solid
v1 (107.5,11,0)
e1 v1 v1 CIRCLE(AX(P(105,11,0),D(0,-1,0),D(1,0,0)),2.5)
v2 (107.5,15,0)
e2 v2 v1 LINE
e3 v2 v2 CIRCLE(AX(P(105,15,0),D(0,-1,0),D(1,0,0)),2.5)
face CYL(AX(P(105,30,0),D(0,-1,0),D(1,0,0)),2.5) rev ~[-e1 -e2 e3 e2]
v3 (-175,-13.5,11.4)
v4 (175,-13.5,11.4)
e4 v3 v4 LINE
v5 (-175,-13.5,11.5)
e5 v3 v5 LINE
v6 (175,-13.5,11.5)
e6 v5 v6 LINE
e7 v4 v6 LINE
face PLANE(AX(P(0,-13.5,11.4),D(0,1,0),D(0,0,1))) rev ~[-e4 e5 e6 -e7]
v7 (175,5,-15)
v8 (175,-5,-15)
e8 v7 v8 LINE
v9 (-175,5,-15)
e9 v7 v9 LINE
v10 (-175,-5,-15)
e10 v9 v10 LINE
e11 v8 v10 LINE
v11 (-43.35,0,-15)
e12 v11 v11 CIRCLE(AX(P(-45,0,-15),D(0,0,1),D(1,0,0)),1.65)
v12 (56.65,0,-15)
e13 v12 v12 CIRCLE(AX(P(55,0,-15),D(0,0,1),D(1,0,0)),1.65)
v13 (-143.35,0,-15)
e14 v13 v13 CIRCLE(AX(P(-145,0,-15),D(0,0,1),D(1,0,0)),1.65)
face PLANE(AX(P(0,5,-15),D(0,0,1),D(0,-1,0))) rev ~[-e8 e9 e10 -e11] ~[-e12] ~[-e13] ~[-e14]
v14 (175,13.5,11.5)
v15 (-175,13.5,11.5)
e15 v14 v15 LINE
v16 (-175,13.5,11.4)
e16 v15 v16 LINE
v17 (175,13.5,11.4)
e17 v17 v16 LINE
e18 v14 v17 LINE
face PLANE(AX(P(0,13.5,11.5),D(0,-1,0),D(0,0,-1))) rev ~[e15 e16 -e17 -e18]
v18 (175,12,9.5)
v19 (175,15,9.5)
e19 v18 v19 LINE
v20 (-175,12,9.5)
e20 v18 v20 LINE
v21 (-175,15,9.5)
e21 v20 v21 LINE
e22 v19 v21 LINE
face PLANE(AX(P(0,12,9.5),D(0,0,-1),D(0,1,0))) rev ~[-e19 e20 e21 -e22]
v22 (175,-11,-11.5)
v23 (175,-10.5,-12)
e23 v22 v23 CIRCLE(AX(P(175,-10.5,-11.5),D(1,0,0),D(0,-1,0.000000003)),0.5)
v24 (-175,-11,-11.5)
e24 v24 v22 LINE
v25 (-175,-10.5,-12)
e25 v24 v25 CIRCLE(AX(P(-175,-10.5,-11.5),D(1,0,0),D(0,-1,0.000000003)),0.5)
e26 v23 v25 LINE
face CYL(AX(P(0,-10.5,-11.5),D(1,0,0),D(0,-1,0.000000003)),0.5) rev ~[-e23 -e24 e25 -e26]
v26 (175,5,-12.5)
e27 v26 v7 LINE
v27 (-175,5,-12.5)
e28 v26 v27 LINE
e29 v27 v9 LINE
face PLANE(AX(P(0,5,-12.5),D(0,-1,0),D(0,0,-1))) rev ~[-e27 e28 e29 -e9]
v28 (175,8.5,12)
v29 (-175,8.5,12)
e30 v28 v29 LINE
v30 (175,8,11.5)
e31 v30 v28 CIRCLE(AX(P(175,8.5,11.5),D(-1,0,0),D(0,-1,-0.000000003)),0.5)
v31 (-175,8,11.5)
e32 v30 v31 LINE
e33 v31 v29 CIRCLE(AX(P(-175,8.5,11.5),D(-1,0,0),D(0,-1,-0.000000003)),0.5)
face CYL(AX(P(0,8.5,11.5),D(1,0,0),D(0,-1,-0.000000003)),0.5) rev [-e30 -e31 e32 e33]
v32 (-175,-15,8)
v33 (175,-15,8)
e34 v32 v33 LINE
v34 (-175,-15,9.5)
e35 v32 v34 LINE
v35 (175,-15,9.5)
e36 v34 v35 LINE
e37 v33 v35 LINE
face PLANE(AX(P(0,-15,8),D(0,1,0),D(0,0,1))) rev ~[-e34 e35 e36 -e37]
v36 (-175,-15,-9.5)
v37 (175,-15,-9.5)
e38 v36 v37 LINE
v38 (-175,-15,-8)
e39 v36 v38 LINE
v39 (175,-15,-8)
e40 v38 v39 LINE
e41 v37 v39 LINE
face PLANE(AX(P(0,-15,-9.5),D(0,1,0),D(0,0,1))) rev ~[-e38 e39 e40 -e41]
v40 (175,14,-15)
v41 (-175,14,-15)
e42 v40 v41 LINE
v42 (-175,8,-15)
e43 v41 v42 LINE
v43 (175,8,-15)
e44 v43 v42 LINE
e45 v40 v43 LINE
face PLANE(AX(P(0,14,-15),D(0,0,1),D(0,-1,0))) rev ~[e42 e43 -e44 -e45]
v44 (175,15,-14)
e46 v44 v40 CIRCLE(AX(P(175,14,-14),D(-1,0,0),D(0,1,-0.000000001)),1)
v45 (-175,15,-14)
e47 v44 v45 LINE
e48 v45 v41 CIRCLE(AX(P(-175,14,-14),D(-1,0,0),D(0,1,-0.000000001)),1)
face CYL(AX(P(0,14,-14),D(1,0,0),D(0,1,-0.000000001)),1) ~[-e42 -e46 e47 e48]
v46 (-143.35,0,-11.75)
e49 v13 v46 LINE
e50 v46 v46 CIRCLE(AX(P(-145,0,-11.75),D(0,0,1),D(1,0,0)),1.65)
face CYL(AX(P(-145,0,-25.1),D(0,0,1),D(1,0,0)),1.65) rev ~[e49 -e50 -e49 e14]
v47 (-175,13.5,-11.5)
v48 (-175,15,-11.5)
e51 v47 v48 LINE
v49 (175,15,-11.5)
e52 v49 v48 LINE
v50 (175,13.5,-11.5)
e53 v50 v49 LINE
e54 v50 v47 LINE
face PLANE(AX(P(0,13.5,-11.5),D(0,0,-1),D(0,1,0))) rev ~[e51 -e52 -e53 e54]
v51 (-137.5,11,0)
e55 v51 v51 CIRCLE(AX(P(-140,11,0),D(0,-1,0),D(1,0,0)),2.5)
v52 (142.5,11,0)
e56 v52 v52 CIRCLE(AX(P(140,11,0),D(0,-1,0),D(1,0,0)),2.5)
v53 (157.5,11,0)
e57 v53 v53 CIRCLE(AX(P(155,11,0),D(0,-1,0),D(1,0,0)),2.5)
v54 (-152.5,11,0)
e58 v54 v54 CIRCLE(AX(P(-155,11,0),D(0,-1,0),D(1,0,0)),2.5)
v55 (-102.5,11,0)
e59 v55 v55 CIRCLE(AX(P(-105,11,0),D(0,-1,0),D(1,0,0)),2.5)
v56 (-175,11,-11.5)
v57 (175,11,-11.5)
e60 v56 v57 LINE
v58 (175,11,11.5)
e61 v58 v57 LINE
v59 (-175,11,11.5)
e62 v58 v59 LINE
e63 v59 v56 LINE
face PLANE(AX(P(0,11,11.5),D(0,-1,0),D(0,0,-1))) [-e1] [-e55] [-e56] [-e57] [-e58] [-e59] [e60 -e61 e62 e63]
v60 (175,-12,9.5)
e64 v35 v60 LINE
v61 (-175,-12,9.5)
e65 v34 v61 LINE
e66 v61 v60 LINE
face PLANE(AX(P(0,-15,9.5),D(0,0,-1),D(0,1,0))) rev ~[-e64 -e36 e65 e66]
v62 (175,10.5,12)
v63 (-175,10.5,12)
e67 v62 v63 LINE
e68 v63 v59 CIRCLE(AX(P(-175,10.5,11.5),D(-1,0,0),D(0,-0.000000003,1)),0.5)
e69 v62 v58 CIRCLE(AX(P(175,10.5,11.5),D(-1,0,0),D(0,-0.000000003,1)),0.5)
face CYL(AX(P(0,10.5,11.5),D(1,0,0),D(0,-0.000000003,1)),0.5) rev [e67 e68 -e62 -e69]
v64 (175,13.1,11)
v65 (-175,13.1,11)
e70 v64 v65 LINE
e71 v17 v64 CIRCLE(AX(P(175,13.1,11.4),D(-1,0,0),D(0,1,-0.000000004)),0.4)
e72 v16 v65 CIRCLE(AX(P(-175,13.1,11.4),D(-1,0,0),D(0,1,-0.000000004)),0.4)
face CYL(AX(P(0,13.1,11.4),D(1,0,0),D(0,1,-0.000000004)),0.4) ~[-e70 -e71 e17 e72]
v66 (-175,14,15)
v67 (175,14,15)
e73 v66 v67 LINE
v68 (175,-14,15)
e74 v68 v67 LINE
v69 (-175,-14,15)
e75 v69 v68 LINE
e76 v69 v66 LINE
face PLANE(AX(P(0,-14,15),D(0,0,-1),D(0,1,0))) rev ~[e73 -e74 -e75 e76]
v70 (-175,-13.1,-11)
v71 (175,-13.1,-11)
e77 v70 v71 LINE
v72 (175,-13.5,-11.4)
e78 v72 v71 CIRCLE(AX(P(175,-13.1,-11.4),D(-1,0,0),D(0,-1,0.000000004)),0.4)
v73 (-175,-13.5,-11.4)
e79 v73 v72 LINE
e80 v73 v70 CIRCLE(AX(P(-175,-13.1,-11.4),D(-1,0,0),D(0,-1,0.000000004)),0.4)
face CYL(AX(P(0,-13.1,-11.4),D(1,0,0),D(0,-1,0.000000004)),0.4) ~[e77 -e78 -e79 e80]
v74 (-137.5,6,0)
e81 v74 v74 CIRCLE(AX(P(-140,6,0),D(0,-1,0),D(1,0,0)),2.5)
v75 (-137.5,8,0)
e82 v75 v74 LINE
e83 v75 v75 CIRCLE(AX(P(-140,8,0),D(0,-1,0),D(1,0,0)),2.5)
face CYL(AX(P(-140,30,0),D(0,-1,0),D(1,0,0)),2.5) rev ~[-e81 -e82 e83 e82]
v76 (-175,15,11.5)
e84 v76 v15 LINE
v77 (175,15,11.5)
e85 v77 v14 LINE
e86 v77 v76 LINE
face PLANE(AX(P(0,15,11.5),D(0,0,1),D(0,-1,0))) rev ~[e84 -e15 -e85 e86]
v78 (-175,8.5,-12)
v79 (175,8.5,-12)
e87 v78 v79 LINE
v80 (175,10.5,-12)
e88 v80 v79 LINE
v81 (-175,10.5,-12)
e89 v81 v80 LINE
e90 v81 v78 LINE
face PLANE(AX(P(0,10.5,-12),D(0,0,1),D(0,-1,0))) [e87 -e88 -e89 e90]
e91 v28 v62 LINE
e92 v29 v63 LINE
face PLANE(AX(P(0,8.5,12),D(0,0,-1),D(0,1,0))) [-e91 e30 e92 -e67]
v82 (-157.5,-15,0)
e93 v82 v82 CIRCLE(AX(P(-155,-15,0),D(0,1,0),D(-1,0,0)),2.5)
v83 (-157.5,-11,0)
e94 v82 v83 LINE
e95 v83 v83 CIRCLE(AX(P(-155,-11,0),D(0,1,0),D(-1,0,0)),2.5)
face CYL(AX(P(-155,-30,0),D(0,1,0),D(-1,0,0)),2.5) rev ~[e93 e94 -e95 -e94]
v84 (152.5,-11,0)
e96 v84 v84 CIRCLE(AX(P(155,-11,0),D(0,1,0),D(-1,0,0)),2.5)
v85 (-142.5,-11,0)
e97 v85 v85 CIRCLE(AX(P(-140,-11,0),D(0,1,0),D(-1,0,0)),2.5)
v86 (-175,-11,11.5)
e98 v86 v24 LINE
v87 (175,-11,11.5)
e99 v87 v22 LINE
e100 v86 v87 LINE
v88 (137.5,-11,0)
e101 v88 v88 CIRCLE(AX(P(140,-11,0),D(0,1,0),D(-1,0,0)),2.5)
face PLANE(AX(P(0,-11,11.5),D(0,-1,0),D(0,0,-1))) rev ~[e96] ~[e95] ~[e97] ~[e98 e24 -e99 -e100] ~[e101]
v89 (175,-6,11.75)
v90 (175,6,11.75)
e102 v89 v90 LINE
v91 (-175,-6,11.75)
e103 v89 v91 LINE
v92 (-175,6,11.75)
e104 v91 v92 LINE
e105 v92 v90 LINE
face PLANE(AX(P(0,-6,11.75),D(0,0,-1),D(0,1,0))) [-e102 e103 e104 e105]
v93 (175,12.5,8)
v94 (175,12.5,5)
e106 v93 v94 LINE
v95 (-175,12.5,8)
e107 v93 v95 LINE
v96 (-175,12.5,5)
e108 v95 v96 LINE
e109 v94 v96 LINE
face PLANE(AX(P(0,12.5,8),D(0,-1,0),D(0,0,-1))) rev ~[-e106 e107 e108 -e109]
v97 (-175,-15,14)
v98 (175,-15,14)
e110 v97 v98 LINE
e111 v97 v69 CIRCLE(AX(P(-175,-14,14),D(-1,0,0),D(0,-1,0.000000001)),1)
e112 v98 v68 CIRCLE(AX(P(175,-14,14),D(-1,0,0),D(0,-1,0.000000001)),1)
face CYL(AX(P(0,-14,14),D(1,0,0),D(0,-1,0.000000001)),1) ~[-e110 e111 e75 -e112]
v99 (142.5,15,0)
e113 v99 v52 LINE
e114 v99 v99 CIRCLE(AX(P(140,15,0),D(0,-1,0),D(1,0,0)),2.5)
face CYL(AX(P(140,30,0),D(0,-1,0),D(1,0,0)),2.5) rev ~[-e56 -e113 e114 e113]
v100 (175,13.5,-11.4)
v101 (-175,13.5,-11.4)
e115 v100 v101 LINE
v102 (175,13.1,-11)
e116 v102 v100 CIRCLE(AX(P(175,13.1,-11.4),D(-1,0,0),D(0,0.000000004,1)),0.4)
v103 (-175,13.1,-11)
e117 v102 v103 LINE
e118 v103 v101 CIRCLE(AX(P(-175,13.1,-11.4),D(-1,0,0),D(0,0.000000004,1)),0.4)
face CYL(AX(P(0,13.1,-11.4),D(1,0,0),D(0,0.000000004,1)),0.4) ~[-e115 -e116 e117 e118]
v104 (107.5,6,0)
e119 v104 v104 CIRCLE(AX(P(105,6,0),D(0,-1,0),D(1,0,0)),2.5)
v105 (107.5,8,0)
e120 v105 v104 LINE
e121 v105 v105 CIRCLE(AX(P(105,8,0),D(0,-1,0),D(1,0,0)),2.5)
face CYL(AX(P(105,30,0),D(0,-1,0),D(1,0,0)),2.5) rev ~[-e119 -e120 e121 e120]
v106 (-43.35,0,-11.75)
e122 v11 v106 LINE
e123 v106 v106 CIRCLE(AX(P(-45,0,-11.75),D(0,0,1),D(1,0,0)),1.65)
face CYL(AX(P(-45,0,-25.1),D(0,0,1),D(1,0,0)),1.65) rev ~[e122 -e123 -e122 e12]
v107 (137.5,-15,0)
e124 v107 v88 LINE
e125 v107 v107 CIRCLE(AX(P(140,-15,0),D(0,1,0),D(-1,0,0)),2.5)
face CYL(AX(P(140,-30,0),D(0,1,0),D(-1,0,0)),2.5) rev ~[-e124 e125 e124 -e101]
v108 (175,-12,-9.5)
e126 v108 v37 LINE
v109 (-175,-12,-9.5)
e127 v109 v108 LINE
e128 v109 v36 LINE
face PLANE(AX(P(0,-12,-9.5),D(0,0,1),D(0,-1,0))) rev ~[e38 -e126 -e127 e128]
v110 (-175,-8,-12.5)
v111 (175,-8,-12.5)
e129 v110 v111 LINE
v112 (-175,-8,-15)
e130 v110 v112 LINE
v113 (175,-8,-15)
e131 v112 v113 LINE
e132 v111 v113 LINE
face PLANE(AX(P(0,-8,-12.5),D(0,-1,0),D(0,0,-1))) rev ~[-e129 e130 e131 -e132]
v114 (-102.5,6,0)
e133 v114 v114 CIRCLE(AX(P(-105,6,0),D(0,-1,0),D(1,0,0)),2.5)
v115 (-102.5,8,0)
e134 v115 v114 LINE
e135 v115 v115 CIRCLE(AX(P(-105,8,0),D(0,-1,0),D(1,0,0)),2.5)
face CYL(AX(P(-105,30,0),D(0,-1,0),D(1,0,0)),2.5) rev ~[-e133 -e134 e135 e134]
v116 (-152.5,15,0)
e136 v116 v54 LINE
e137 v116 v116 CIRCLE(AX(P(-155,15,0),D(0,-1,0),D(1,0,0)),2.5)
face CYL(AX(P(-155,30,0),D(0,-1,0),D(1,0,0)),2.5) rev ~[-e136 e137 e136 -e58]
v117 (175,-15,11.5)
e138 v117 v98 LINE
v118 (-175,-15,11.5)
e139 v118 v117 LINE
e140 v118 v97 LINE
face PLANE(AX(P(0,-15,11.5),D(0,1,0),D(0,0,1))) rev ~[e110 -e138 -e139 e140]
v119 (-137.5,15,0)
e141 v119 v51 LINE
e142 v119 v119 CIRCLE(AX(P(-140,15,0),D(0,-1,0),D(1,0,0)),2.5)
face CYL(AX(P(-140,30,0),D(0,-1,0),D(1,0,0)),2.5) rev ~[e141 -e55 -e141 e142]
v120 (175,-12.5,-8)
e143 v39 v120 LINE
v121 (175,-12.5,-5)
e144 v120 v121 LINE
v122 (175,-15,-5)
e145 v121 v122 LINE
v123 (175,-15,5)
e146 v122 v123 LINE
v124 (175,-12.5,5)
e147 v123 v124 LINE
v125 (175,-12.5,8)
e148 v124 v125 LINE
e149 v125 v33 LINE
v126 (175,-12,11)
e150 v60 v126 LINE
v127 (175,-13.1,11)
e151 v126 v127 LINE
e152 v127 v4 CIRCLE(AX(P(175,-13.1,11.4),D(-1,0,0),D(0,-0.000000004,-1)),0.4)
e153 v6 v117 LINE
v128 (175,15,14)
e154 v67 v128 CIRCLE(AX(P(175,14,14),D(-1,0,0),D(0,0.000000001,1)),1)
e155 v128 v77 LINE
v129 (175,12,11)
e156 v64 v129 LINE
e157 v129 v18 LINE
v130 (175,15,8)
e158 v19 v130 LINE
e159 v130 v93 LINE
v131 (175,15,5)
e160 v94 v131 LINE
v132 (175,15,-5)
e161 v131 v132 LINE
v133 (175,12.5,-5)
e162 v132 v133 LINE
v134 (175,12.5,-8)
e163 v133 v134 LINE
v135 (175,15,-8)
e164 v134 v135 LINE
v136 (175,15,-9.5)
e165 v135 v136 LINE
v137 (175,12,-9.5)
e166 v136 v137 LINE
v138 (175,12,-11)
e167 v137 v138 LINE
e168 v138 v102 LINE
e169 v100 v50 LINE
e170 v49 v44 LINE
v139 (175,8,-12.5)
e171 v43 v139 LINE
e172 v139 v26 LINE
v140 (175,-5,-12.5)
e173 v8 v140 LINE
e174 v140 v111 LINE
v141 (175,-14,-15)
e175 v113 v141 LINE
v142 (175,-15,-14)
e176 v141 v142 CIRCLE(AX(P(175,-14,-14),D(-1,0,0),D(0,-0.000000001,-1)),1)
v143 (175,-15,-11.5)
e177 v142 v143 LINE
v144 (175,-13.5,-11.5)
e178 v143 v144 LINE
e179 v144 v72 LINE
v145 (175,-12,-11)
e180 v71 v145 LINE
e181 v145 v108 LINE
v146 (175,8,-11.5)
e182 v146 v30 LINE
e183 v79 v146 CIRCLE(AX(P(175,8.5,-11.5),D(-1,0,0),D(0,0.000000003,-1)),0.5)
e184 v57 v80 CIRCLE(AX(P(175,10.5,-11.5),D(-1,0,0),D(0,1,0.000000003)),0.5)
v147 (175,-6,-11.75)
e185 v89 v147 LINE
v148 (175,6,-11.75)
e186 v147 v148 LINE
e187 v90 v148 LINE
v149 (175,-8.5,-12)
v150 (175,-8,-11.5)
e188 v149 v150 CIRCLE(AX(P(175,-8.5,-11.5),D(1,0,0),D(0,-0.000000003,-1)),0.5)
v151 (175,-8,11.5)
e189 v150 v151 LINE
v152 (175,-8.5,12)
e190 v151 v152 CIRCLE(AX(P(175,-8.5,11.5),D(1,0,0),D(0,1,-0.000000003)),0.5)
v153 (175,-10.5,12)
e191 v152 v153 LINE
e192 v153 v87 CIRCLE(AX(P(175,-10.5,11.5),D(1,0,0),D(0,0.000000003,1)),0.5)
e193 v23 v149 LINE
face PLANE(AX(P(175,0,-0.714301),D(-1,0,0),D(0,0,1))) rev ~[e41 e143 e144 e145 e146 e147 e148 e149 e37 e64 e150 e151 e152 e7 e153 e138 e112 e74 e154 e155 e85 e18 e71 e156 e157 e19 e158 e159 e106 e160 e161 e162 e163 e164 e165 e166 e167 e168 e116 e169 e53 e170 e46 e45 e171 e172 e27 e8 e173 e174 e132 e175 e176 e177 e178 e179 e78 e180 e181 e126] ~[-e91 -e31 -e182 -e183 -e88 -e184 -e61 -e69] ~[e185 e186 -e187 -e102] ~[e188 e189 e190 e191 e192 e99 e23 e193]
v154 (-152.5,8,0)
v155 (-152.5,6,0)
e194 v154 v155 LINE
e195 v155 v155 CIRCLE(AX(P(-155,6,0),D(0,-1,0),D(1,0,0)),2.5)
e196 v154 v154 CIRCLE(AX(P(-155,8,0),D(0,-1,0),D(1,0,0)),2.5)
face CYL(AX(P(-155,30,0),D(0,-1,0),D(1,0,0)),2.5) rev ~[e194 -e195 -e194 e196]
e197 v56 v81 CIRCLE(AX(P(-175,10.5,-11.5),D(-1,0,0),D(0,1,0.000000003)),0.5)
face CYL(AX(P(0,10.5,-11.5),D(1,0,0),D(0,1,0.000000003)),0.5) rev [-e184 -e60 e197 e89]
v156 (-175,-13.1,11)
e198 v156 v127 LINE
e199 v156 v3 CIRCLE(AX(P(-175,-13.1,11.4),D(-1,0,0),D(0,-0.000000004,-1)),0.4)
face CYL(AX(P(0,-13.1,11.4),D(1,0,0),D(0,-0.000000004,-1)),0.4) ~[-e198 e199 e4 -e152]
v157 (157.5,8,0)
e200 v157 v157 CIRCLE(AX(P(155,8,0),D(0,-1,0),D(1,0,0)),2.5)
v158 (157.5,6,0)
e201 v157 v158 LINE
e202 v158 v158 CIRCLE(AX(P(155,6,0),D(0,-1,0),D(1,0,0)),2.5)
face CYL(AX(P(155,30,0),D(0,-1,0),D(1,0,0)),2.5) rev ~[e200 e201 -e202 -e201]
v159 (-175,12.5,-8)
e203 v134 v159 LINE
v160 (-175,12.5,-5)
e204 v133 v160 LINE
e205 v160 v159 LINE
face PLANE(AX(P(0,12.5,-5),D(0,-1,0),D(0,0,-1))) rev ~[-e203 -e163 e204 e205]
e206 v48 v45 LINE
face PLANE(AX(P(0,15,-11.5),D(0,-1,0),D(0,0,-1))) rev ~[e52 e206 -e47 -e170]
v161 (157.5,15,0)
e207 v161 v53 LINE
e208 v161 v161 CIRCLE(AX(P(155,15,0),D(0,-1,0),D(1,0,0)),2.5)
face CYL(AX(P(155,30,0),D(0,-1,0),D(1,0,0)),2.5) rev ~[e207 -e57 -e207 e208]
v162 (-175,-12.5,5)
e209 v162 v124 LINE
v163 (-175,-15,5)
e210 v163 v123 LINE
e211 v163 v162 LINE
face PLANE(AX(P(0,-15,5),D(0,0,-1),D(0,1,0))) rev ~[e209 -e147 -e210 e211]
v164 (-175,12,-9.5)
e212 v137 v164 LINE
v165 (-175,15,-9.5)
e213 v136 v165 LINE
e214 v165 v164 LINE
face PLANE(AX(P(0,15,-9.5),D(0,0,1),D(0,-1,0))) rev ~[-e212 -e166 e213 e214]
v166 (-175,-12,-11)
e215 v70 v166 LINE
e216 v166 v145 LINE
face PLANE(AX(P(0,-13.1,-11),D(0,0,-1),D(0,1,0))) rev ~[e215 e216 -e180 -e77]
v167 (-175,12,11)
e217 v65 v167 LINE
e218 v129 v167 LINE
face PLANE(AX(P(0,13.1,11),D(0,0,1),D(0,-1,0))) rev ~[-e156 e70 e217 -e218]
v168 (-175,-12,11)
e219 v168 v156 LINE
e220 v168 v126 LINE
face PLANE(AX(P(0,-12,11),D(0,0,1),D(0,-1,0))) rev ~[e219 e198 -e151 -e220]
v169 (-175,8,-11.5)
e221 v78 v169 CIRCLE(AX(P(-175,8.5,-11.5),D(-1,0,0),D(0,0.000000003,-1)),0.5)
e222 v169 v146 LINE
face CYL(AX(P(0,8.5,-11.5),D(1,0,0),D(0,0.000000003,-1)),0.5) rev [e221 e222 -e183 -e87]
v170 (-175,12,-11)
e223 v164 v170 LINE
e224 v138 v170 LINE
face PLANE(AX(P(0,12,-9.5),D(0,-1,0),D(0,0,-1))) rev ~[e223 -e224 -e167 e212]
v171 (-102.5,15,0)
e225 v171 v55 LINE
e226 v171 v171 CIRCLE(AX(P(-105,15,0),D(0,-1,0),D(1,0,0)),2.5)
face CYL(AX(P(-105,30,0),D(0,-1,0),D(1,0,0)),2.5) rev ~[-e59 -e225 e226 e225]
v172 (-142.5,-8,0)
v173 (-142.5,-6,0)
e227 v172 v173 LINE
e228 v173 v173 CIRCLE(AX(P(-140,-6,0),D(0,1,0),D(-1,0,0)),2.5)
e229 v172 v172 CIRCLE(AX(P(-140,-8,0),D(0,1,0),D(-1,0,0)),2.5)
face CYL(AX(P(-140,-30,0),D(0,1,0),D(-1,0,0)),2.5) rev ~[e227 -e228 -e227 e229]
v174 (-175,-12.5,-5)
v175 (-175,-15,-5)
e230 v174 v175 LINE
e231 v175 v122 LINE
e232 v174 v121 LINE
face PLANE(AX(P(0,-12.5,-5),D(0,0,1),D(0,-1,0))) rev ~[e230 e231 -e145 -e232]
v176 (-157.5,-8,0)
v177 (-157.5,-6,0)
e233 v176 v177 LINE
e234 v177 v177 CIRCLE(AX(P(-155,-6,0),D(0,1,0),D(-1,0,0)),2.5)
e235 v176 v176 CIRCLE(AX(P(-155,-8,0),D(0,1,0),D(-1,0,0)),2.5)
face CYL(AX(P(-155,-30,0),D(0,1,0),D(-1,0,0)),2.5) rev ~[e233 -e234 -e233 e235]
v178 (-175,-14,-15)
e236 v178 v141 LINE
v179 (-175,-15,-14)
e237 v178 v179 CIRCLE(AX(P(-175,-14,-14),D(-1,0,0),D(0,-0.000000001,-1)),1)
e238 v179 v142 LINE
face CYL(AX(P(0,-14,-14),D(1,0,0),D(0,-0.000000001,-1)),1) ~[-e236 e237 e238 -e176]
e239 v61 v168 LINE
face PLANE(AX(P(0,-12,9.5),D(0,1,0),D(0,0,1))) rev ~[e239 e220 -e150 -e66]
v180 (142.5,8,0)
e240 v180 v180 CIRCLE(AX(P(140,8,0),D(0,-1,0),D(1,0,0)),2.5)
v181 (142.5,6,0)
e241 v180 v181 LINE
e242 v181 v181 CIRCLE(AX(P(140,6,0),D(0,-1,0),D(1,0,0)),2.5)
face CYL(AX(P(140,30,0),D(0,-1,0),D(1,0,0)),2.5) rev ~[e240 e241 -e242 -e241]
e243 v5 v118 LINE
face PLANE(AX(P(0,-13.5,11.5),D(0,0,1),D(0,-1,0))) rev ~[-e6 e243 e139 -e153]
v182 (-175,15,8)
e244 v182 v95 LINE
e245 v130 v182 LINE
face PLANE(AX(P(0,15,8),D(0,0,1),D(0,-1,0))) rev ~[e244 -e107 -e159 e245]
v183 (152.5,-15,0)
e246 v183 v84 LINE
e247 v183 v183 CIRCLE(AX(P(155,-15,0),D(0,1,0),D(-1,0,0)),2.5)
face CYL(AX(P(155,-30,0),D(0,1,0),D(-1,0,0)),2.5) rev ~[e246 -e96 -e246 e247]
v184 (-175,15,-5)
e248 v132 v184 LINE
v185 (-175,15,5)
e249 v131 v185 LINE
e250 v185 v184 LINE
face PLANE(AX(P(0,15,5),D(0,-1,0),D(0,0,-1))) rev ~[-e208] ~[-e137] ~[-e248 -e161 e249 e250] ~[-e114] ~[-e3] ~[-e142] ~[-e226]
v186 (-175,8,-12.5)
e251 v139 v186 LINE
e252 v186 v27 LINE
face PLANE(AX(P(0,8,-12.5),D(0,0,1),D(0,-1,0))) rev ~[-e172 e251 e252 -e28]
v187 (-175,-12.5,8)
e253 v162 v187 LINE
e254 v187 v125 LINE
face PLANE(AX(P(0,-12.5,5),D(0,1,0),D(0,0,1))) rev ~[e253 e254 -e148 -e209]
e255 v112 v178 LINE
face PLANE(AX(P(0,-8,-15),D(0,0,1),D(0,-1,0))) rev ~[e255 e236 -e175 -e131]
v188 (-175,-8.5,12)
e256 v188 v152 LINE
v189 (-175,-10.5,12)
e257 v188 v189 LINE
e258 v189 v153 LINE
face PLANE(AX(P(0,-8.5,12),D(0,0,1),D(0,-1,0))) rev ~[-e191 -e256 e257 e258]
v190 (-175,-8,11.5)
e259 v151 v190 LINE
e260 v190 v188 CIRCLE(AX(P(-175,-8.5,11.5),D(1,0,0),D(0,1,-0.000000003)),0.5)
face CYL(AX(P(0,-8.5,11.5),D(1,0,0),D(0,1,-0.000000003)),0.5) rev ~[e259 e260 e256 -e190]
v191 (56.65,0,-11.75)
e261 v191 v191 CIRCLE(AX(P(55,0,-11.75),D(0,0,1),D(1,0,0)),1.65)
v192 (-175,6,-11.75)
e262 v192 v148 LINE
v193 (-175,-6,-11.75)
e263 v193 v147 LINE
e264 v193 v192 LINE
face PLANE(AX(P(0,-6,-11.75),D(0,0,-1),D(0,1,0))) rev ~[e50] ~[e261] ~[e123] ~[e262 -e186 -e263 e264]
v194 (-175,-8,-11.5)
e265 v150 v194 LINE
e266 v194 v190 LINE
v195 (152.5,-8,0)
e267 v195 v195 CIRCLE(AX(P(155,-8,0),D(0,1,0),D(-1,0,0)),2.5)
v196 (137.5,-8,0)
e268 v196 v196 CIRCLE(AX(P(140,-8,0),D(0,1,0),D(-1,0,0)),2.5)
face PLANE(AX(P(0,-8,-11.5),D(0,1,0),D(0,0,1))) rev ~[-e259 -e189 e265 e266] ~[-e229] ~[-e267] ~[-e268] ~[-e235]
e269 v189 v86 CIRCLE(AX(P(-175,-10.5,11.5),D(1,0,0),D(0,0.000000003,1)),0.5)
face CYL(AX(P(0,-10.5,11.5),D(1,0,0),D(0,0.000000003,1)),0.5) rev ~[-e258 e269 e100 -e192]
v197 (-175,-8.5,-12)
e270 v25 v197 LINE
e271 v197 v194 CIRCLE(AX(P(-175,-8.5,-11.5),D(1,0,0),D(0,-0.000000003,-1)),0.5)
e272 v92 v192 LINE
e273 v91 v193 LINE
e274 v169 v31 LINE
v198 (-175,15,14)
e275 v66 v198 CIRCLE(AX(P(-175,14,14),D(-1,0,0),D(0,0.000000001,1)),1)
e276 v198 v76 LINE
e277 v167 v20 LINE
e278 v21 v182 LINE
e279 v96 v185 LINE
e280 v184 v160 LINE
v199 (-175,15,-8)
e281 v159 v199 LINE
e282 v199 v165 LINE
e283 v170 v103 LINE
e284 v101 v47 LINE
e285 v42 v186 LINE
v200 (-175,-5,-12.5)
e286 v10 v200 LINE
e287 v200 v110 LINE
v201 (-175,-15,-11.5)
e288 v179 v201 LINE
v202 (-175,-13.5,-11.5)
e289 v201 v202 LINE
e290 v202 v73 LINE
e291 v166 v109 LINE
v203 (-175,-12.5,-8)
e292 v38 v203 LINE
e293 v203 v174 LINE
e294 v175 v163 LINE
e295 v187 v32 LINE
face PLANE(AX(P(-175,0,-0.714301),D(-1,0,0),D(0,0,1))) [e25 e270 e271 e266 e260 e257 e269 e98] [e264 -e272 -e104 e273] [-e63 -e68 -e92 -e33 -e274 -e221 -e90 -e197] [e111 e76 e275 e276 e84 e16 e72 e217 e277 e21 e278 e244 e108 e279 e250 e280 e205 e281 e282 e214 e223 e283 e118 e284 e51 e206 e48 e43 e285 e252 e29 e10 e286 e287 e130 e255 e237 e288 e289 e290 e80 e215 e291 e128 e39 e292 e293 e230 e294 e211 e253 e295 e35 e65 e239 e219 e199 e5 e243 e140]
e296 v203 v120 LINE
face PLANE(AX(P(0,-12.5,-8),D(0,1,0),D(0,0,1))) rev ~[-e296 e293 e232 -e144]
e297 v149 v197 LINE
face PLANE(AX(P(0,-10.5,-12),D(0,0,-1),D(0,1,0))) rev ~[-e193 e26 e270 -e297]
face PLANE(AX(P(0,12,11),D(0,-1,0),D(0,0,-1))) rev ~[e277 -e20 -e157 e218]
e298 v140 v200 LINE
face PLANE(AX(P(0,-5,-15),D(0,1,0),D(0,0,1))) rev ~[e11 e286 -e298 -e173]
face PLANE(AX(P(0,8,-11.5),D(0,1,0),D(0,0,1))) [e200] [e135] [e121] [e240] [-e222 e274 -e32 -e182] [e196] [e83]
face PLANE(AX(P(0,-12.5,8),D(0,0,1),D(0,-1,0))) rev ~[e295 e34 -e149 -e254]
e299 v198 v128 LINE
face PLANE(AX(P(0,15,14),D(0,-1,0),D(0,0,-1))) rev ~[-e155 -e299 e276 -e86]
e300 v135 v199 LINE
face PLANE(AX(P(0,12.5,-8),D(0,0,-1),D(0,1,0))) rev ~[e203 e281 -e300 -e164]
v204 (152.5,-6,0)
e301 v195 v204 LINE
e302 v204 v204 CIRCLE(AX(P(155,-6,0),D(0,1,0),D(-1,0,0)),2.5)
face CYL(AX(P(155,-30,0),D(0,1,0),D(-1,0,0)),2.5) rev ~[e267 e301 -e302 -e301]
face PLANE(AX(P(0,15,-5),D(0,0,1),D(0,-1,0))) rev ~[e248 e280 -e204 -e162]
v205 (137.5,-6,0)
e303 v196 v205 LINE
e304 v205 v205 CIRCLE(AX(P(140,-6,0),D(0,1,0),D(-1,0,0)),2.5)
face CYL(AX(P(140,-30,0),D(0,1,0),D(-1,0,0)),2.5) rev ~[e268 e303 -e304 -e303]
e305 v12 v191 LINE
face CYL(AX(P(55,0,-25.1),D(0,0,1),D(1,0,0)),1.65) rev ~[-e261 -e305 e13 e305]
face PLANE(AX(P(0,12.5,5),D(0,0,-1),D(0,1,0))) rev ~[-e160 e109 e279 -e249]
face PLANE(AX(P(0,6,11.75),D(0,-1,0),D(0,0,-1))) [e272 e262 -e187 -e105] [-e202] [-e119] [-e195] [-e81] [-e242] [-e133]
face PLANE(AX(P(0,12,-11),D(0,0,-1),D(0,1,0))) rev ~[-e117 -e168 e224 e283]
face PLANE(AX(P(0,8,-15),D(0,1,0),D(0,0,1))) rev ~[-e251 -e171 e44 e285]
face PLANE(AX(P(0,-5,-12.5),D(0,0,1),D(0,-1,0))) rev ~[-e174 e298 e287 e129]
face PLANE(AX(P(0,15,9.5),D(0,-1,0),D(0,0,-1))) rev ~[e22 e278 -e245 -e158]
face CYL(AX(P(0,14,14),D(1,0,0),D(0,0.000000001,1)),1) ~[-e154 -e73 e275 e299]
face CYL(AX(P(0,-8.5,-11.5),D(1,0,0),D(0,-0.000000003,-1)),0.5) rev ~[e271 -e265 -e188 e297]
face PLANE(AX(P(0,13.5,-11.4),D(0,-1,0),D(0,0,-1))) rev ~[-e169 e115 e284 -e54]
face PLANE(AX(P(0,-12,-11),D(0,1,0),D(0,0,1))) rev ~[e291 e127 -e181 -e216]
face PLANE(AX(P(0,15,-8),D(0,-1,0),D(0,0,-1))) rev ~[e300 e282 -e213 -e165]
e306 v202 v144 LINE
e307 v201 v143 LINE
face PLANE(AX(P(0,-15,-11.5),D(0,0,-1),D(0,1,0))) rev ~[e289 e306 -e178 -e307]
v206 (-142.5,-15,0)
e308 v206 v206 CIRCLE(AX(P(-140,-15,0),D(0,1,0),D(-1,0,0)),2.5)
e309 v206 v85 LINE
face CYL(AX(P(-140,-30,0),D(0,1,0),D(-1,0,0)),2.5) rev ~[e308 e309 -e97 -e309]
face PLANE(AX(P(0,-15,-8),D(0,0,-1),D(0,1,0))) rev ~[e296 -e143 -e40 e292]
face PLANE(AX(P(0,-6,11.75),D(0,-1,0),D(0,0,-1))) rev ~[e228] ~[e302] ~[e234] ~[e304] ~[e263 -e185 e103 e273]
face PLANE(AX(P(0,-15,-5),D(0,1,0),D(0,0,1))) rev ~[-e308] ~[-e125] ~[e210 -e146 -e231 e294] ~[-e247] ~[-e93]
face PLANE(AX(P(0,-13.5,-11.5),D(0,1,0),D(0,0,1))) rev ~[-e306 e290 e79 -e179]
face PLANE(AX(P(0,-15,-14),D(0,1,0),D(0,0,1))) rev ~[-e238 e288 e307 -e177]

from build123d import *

# Parameters (mm, degrees)
SKETCH_1_W             = 23.5
SKETCH_1_H             = 12
EXTRUDE_1_DEPTH        = 175
HOLE_WIZARD_M6_1_D     = 5
HOLE_WIZARD_M6_1_DEPTH = 15
HOLE_WIZARD_M6_1_TIP   = 1.502151548
HOLE_WIZARD_M6_2_D     = 5
HOLE_WIZARD_M6_2_DEPTH = 15
HOLE_WIZARD_M6_2_TIP   = 1.502151548
HOLE_WIZARD_M4_1_D     = 3.3
HOLE_WIZARD_M4_1_DEPTH = 10.1
HOLE_WIZARD_M4_1_TIP   = 0.991420021
HOLE_WIZARD_M6_3_D     = 5
HOLE_WIZARD_M6_3_DEPTH = 15
HOLE_WIZARD_M6_3_TIP   = 1.502151548


with BuildPart() as part:
    # 草图1 → 凸台-拉伸1 (new, symmetric)
    with BuildSketch(Plane(origin=(0, 0, 0), x_dir=(0, 0, -1), z_dir=(1, 0, 0))):
        with BuildLine():
            Line((-14, 15), (-11.5, 15))
            Line((-11.5, 15), (-11.5, 13.5))
            Line((-11.5, 13.5), (-11.4, 13.5))
            ThreePointArc((-11.4, 13.5), (-11.117157288, 13.382842712), (-11, 13.1))
            Line((-11, 13.1), (-11, 12))
            Line((-11, 12), (-9.5, 12))
            Line((-9.5, 12), (-9.5, 15))
            Line((-9.5, 15), (-8, 15))
            Line((-8, 15), (-8, 12.5))
            Line((-8, 12.5), (-5, 12.5))
            Line((-5, 12.5), (-5, 15))
            Line((-5, 15), (5, 15))
            Line((5, 15), (5, 12.5))
            Line((5, 12.5), (8, 12.5))
            Line((8, 12.5), (8, 15))
            Line((8, 15), (9.5, 15))
            Line((9.5, 15), (9.5, 12))
            Line((9.5, 12), (11, 12))
            Line((11, 12), (11, 13.1))
            ThreePointArc((11, 13.1), (11.117157288, 13.382842712), (11.4, 13.5))
            Line((11.4, 13.5), (11.5, 13.5))
            Line((11.5, 13.5), (11.5, 15))
            Line((11.5, 15), (14, 15))
            ThreePointArc((14, 15), (14.707106781, 14.707106781), (15, 14))
            Line((15, 14), (15, 8))
            Line((15, 8), (12.5, 8))
            Line((12.5, 8), (12.5, 5))
            Line((12.5, 5), (15, 5))
            Line((15, 5), (15, -5))
            Line((15, -5), (12.5, -5))
            Line((12.5, -5), (12.5, -8))
            Line((12.5, -8), (15, -8))
            Line((15, -8), (15, -14))
            ThreePointArc((15, -14), (14.707106781, -14.707106781), (14, -15))
            Line((14, -15), (11.5, -15))
            Line((11.5, -15), (11.5, -13.5))
            Line((11.5, -13.5), (11.4, -13.5))
            ThreePointArc((11.4, -13.5), (11.117157288, -13.382842712), (11, -13.1))
            Line((11, -13.1), (11, -12))
            Line((11, -12), (9.5, -12))
            Line((9.5, -12), (9.5, -15))
            Line((9.5, -15), (8, -15))
            Line((8, -15), (8, -12.5))
            Line((8, -12.5), (5, -12.5))
            Line((5, -12.5), (5, -15))
            Line((5, -15), (-5, -15))
            Line((-5, -15), (-5, -12.5))
            Line((-5, -12.5), (-8, -12.5))
            Line((-8, -12.5), (-8, -15))
            Line((-8, -15), (-9.5, -15))
            Line((-9.5, -15), (-9.5, -12))
            Line((-9.5, -12), (-11, -12))
            Line((-11, -12), (-11, -13.1))
            ThreePointArc((-11, -13.1), (-11.117157288, -13.382842712), (-11.4, -13.5))
            Line((-11.4, -13.5), (-11.5, -13.5))
            Line((-11.5, -13.5), (-11.5, -15))
            Line((-11.5, -15), (-14, -15))
            ThreePointArc((-14, -15), (-14.707106781, -14.707106781), (-15, -14))
            Line((-15, -14), (-15, 14))
            ThreePointArc((-15, 14), (-14.707106781, 14.707106781), (-14, 15))
        make_face()
        with BuildLine():
            Line((12, -10.5), (12, -8.5))
            ThreePointArc((12, -8.5), (11.853553391, -8.146446609), (11.5, -8))
            Line((11.5, -8), (-11.5, -8))
            ThreePointArc((-11.5, -8), (-11.853553391, -8.146446609), (-12, -8.5))
            Line((-12, -8.5), (-12, -10.5))
            ThreePointArc((-12, -10.5), (-11.853553391, -10.853553391), (-11.5, -11))
            Line((-11.5, -11), (11.5, -11))
            ThreePointArc((11.5, -11), (11.853553391, -10.853553391), (12, -10.5))
        make_face(mode=Mode.SUBTRACT)
        with BuildLine():
            Line((-11.5, 11), (11.5, 11))
            ThreePointArc((11.5, 11), (11.853553391, 10.853553391), (12, 10.5))
            Line((12, 10.5), (12, 8.5))
            ThreePointArc((12, 8.5), (11.853553391, 8.146446609), (11.5, 8))
            Line((11.5, 8), (-11.5, 8))
            ThreePointArc((-11.5, 8), (-11.853553391, 8.146446609), (-12, 8.5))
            Line((-12, 8.5), (-12, 10.5))
            ThreePointArc((-12, 10.5), (-11.853553391, 10.853553391), (-11.5, 11))
        make_face(mode=Mode.SUBTRACT)
        Rectangle(SKETCH_1_W, SKETCH_1_H, mode=Mode.SUBTRACT)
    extrude(amount=EXTRUDE_1_DEPTH, both=True)

    # M6 螺纹孔1
    with Locations(Plane(origin=(0, 15, 0), x_dir=(-1, 0, 0), z_dir=(0, 1, 0))):
        with Locations((-155, 0), (-140, 0), (140, 0), (155, 0)):
            Hole(HOLE_WIZARD_M6_1_D / 2, depth=HOLE_WIZARD_M6_1_DEPTH)
            with Locations((0, 0, -(HOLE_WIZARD_M6_1_DEPTH + HOLE_WIZARD_M6_1_TIP / 2))):  # 118° drill point
                Cone(0, HOLE_WIZARD_M6_1_D / 2, HOLE_WIZARD_M6_1_TIP, mode=Mode.SUBTRACT)

    # M6 螺纹孔2
    with Locations(Plane.XZ.offset(15)):
        with Locations((155, 0), (140, 0), (-140, 0), (-155, 0)):
            Hole(HOLE_WIZARD_M6_2_D / 2, depth=HOLE_WIZARD_M6_2_DEPTH)
            with Locations((0, 0, -(HOLE_WIZARD_M6_2_DEPTH + HOLE_WIZARD_M6_2_TIP / 2))):  # 118° drill point
                Cone(0, HOLE_WIZARD_M6_2_D / 2, HOLE_WIZARD_M6_2_TIP, mode=Mode.SUBTRACT)

    # M4 螺纹孔1
    with Locations(Plane(origin=(0, 0, -15), x_dir=(-1, 0, 0), z_dir=(0, 0, -1))):
        with Locations((145, 0), (45, 0), (-55, 0)):
            Hole(HOLE_WIZARD_M4_1_D / 2, depth=HOLE_WIZARD_M4_1_DEPTH)
            with Locations((0, 0, -(HOLE_WIZARD_M4_1_DEPTH + HOLE_WIZARD_M4_1_TIP / 2))):  # 118° drill point
                Cone(0, HOLE_WIZARD_M4_1_D / 2, HOLE_WIZARD_M4_1_TIP, mode=Mode.SUBTRACT)

    # M6 螺纹孔3
    with Locations(Plane(origin=(0, 15, 0), x_dir=(-1, 0, 0), z_dir=(0, 1, 0))):
        with Locations((105, 0), (-105, 0)):
            Hole(HOLE_WIZARD_M6_3_D / 2, depth=HOLE_WIZARD_M6_3_DEPTH)
            with Locations((0, 0, -(HOLE_WIZARD_M6_3_DEPTH + HOLE_WIZARD_M6_3_TIP / 2))):  # 118° drill point
                Cone(0, HOLE_WIZARD_M6_3_D / 2, HOLE_WIZARD_M6_3_TIP, mode=Mode.SUBTRACT)


solid = part.part
